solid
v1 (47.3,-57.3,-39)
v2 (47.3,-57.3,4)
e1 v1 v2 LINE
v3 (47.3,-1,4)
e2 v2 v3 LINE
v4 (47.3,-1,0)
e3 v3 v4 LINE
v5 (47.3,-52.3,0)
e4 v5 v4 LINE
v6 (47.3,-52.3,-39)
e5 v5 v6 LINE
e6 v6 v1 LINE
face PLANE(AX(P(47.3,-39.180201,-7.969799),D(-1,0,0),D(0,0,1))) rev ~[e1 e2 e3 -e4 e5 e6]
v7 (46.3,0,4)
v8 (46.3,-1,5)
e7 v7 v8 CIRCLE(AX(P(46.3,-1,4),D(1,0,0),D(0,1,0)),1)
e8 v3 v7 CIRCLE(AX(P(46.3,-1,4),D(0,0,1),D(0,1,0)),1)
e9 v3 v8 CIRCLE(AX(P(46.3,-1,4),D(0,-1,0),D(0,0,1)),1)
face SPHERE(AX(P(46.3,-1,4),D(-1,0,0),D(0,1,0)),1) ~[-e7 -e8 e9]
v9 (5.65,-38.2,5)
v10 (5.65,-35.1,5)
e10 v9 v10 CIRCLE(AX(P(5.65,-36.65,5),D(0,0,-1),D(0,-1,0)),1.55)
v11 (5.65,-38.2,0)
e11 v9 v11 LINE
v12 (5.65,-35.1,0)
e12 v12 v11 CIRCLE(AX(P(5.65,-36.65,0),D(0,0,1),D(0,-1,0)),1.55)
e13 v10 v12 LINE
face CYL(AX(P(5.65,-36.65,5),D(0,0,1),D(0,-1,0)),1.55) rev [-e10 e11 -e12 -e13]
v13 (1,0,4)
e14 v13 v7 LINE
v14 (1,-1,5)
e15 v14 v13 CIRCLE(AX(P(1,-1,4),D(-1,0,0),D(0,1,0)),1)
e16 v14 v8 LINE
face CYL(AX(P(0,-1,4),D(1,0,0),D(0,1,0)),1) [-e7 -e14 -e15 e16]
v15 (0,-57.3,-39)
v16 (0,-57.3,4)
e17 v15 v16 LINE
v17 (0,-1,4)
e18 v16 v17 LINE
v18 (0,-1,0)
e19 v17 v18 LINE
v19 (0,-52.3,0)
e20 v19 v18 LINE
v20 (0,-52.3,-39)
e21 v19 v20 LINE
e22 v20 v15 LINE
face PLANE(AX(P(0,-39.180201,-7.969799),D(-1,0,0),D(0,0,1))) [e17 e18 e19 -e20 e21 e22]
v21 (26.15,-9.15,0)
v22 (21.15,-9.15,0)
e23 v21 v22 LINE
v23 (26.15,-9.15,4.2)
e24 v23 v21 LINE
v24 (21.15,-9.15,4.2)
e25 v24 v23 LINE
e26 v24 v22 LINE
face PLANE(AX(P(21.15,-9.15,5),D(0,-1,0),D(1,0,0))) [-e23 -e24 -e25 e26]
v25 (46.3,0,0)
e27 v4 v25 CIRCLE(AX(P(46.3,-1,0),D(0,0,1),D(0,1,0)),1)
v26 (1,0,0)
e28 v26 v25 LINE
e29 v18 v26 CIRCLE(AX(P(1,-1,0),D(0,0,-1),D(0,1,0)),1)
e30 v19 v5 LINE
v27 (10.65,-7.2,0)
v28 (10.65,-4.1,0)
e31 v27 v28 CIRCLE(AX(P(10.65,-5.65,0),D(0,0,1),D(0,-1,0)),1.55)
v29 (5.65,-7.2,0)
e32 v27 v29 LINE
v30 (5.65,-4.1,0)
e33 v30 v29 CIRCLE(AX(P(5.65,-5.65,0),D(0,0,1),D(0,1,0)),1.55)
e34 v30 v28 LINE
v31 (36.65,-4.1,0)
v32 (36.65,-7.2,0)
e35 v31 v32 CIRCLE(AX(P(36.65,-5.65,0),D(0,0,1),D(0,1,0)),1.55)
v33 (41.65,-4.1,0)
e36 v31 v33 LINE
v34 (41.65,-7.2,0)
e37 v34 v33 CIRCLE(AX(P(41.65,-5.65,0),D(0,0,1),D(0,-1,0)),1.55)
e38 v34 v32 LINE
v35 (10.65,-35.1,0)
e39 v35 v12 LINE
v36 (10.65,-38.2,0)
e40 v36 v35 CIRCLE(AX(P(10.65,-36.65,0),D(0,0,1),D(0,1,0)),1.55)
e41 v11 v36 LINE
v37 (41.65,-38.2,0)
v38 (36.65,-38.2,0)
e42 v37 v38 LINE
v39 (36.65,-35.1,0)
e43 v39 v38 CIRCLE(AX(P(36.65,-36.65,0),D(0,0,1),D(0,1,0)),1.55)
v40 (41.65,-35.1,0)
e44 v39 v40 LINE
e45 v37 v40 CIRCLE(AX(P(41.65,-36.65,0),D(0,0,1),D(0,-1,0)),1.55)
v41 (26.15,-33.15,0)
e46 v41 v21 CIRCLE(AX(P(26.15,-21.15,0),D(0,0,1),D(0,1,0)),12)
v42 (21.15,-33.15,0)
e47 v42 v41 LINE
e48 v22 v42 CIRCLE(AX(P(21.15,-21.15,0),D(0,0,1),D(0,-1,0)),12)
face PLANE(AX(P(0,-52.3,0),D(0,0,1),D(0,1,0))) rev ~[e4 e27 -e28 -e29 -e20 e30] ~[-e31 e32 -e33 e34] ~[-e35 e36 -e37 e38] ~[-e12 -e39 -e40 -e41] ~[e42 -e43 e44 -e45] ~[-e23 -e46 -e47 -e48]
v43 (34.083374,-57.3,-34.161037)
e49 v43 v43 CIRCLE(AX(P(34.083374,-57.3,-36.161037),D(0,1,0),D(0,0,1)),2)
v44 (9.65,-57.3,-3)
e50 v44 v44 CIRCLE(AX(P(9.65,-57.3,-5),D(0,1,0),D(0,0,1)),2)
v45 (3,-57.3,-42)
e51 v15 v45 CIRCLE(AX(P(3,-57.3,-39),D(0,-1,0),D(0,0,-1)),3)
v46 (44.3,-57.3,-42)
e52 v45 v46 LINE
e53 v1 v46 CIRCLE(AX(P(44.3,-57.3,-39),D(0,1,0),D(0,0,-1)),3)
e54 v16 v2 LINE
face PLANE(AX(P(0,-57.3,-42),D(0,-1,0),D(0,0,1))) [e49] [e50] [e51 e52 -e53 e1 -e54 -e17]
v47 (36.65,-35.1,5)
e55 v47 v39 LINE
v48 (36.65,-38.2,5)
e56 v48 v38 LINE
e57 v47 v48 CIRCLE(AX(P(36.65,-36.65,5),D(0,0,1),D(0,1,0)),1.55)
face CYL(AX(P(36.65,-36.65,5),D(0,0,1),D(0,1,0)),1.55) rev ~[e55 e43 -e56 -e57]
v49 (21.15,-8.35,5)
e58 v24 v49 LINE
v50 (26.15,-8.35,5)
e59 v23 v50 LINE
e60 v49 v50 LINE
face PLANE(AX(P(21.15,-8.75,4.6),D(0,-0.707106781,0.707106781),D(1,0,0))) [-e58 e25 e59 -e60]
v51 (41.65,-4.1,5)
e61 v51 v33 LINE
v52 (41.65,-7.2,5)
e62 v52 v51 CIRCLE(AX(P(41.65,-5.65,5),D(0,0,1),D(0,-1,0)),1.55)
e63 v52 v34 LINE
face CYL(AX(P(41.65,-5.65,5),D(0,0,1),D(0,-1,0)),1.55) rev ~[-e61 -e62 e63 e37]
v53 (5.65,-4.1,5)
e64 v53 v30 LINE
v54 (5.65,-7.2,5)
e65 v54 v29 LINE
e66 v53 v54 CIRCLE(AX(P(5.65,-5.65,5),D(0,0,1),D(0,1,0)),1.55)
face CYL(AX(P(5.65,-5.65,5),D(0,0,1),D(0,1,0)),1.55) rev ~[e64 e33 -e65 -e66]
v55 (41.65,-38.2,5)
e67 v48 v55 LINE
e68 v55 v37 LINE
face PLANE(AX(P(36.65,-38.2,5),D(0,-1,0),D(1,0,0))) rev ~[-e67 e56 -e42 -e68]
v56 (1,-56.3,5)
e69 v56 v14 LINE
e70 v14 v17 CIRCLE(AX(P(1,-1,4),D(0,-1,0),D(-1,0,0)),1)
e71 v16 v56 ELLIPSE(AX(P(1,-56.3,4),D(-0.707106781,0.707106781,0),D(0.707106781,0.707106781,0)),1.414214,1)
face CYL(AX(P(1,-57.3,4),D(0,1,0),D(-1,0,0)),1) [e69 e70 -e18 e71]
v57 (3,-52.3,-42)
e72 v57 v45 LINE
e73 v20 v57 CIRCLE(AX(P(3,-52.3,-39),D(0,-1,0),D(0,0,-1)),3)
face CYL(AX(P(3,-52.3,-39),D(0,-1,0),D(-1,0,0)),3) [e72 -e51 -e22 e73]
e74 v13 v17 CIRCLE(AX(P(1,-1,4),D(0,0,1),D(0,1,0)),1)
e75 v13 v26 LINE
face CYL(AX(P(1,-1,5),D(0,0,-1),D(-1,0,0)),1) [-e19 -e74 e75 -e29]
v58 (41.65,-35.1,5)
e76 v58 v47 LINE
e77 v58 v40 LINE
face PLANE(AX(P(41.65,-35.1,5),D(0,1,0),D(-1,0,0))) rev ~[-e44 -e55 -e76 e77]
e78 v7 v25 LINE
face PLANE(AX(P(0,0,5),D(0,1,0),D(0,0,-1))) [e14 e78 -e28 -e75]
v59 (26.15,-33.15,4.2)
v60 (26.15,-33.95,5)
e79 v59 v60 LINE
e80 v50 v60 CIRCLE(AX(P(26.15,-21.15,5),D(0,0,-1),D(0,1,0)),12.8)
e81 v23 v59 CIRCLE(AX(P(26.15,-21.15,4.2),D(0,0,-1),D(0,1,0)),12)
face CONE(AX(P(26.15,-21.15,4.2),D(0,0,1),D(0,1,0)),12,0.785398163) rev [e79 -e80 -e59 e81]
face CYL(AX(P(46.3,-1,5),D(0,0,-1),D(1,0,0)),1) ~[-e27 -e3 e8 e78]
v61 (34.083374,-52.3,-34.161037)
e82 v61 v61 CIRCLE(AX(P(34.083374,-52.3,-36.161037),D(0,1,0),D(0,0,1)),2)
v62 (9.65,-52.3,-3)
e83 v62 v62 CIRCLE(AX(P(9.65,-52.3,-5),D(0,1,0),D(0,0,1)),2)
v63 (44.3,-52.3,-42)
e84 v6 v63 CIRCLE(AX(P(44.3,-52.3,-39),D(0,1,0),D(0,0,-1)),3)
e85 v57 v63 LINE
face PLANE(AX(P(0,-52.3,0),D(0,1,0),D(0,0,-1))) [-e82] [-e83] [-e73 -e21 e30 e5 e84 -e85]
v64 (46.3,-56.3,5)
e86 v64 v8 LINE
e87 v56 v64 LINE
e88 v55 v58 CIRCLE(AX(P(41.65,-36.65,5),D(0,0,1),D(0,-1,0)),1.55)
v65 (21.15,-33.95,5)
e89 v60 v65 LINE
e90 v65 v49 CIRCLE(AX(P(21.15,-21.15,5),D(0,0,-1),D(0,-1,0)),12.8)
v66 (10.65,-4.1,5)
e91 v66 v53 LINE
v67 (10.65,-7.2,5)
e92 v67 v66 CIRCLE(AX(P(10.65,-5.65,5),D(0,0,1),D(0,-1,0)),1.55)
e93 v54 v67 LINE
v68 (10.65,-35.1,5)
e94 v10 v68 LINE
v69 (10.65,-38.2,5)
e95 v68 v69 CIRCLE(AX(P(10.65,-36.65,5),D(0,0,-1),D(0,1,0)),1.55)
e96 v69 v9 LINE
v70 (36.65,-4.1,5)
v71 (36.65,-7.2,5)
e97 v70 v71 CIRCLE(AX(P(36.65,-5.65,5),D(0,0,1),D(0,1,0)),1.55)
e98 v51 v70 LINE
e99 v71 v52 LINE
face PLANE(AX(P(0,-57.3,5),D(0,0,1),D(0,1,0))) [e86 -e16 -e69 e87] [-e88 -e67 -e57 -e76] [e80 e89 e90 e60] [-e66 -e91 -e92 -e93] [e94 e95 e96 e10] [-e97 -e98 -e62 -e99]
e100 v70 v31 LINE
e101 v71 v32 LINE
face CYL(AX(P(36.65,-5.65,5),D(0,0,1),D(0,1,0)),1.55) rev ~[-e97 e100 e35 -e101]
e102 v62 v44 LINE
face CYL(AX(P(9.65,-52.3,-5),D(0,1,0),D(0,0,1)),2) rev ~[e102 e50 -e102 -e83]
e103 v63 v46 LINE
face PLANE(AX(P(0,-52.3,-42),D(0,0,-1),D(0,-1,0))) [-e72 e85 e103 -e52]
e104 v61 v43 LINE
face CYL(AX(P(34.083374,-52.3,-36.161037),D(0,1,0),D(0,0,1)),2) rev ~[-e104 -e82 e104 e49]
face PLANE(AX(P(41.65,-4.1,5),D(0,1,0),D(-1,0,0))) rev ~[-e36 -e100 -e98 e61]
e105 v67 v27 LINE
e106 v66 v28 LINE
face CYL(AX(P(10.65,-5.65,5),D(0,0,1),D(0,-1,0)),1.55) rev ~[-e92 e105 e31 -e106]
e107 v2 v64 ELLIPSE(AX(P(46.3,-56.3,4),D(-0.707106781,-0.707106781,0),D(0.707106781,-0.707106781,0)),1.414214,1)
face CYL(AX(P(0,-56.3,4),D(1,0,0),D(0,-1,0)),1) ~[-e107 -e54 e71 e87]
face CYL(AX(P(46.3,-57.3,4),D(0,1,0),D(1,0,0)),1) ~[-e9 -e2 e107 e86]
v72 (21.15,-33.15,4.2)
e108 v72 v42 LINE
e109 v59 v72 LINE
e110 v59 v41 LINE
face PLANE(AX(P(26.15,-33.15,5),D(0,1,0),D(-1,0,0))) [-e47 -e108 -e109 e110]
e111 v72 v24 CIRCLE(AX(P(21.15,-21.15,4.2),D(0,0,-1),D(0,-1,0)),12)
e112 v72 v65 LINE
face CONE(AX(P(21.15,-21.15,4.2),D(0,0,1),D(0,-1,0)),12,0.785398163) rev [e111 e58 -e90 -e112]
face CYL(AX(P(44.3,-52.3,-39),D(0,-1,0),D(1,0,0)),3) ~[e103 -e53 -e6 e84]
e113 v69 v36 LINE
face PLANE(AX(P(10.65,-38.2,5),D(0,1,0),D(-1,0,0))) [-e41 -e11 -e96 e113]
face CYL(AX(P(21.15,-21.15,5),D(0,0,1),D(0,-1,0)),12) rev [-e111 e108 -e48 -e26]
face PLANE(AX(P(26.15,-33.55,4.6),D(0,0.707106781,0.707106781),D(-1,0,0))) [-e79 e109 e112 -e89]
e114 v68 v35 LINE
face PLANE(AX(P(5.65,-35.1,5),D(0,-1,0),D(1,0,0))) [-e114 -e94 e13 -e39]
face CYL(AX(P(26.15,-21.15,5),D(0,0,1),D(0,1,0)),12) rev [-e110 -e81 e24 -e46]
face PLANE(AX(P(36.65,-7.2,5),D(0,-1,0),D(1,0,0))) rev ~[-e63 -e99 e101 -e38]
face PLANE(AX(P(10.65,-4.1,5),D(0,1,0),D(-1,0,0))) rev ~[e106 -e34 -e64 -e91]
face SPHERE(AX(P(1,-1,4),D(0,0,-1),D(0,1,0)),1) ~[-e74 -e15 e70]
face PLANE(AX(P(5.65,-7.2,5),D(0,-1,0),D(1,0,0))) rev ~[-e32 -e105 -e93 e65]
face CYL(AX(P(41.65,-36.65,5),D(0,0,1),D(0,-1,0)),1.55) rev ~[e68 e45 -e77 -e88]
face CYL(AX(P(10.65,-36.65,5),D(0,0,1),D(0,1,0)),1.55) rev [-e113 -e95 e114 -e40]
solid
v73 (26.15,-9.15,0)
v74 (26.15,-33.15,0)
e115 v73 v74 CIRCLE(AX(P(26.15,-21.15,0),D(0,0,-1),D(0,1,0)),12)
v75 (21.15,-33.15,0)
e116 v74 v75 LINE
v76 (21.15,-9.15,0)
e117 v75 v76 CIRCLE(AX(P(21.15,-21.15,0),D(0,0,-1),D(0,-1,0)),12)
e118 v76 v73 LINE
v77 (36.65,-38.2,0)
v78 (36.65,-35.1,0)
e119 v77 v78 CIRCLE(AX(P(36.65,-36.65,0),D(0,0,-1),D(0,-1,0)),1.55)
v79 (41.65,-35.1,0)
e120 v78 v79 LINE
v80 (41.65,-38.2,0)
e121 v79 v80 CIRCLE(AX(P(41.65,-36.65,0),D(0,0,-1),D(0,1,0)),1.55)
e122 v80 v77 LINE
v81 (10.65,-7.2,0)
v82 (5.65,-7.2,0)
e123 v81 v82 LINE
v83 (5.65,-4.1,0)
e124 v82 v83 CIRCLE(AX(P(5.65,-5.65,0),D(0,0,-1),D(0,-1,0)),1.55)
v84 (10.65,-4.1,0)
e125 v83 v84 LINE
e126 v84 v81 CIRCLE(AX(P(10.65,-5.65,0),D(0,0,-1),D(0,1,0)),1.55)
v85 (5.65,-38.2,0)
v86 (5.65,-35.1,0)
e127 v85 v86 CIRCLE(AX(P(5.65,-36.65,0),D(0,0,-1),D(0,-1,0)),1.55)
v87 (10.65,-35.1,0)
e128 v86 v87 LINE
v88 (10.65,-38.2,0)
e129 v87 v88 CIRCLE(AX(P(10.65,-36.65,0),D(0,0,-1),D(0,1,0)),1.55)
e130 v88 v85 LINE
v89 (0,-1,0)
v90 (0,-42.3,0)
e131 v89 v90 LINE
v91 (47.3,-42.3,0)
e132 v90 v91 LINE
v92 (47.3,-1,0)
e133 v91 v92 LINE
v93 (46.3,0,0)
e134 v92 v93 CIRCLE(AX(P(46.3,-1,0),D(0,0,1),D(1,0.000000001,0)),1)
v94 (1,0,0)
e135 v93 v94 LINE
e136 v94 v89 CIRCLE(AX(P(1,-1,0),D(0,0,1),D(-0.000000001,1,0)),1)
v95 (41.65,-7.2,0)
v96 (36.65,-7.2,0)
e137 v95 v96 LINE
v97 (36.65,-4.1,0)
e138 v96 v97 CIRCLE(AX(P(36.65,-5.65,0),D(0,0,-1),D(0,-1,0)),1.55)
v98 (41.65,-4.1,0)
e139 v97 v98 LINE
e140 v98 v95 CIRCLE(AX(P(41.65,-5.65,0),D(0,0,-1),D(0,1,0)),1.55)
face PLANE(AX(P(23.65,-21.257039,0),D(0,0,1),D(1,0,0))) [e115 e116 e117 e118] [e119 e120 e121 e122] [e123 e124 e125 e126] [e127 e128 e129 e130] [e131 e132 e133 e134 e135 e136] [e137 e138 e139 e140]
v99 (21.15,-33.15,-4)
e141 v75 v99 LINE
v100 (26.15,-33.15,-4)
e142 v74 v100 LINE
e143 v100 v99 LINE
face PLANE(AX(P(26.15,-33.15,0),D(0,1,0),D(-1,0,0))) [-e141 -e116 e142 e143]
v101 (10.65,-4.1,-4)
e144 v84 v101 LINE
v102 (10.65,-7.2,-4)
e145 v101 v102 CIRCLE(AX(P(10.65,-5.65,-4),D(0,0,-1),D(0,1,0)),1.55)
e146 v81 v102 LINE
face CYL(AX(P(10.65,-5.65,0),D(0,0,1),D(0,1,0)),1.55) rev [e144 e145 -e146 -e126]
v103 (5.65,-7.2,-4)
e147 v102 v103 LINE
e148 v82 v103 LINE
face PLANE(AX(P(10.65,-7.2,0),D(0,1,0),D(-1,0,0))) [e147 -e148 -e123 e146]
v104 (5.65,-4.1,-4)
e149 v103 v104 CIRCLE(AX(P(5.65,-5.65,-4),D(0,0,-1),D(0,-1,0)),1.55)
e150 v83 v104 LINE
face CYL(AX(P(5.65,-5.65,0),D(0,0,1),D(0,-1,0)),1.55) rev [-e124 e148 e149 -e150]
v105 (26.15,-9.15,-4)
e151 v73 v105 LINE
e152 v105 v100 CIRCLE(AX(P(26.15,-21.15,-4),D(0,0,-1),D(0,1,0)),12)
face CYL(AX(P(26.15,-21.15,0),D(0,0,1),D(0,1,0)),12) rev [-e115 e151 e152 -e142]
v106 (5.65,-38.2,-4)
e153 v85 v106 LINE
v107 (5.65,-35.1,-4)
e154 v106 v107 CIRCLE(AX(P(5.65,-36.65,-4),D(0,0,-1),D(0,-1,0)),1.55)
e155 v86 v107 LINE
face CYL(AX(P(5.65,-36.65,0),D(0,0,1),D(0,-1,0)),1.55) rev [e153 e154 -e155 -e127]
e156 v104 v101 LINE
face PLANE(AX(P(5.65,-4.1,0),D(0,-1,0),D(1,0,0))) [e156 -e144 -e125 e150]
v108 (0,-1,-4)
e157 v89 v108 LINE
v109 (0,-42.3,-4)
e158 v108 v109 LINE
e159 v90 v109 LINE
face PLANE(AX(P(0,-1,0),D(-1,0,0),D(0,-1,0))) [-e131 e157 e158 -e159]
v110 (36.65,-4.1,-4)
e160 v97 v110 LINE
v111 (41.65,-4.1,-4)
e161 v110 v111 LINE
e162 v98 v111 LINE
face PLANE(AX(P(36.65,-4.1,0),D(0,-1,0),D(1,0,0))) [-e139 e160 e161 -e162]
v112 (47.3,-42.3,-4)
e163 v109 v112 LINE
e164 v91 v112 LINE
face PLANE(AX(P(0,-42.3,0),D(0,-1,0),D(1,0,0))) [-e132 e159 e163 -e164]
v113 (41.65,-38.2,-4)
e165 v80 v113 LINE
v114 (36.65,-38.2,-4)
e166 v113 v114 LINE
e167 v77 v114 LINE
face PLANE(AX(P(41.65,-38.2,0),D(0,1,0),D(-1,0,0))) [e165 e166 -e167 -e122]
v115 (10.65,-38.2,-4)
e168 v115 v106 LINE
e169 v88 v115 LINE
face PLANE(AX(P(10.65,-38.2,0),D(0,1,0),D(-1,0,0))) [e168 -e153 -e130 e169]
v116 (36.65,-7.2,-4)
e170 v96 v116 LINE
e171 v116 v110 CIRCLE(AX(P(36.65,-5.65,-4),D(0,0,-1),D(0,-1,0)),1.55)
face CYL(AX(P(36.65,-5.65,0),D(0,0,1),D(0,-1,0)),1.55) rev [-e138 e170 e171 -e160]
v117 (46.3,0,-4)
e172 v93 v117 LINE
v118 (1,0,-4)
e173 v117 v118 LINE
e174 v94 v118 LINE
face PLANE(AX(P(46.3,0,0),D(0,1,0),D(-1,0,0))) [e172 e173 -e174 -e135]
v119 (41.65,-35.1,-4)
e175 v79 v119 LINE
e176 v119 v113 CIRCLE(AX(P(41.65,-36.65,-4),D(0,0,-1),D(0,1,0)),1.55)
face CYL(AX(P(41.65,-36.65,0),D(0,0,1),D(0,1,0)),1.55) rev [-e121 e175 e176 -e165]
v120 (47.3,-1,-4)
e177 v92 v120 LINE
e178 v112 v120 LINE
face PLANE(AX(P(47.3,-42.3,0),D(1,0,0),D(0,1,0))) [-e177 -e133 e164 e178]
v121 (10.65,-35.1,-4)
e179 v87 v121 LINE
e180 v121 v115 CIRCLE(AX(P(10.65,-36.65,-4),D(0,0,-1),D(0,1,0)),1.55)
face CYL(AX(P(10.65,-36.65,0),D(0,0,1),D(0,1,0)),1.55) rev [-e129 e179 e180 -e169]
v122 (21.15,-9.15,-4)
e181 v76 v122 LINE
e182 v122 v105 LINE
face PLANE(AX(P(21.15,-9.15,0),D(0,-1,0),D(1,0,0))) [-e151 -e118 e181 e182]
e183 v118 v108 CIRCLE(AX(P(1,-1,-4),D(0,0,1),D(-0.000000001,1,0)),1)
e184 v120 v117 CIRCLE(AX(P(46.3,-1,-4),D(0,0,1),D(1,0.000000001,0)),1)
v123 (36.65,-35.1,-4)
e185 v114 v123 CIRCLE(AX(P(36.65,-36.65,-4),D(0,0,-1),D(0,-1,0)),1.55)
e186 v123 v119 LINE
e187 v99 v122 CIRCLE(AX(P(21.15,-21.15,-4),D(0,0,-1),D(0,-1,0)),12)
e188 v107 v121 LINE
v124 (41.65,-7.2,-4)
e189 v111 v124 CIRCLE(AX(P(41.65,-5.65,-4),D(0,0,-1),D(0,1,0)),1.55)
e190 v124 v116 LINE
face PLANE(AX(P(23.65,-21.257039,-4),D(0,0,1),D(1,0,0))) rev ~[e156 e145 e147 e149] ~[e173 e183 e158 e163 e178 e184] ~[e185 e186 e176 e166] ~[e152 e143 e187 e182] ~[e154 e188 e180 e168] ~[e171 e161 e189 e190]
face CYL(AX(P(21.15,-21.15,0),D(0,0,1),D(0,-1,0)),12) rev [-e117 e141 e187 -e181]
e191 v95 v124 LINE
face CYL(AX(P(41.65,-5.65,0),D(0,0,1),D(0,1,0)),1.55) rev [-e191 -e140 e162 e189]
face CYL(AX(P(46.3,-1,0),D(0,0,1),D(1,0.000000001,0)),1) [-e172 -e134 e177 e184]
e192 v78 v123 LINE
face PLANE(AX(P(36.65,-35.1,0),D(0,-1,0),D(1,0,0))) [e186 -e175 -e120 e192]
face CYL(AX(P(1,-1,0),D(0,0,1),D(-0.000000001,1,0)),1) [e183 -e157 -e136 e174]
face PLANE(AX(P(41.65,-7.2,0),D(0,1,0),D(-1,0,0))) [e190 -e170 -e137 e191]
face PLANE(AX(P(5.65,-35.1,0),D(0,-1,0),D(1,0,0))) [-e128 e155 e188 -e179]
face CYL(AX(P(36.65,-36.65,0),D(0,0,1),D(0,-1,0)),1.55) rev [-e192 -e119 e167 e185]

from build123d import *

# Parameters (mm, degrees)
BOSS_EXTRUDE2_DEPTH = 47.3
CUT_EXTRUDE1_REACH  = 89.918
FILLET1_R           = 1
CHAMFER1_SIZE       = 0.8
FILLET2_R           = 3
CUT_EXTRUDE2_REACH  = 84.077
SKETCH4_R           = 2
BOSS_EXTRUDE3_DEPTH = 4


with BuildPart() as part:
    # Sketch2 → Boss-Extrude2 (new body)
    with BuildSketch(Plane(origin=(0, 0, 0), x_dir=(0, 0, -1), z_dir=(1, 0, 0))):
        Polygon((0, 0), (0, -47.3), (0, -52.3), (42, -52.3), (42, -57.3), (-5, -57.3), (-5, 0), align=None)
    extrude(amount=BOSS_EXTRUDE2_DEPTH)

    # Sketch3 → Cut-Extrude1 (cut, up to next)
    with BuildSketch(Plane.XY.offset(5), mode=Mode.PRIVATE) as cut_extrude1_sk1:
        with BuildLine():
            Line((21.15, -9.15), (26.15, -9.15))
            ThreePointArc((26.15, -9.15), (38.15, -21.15), (26.15, -33.15))
            Line((26.15, -33.15), (21.15, -33.15))
            ThreePointArc((21.15, -33.15), (9.15, -21.15), (21.15, -9.15))
        make_face()
    cut_extrude1_tool1 = extrude(cut_extrude1_sk1.sketch, amount=-CUT_EXTRUDE1_REACH, mode=Mode.PRIVATE) & part.part
    # Sketch3 → Cut-Extrude1 (cut, up to next)
    with BuildSketch(Plane.XY.offset(5), mode=Mode.PRIVATE) as cut_extrude1_sk2:
        with BuildLine():
            Line((5.65, -35.1), (10.65, -35.1))
            ThreePointArc((10.65, -35.1), (12.2, -36.65), (10.65, -38.2))
            Line((10.65, -38.2), (5.65, -38.2))
            ThreePointArc((5.65, -38.2), (4.1, -36.65), (5.65, -35.1))
        make_face()
    cut_extrude1_tool2 = extrude(cut_extrude1_sk2.sketch, amount=-CUT_EXTRUDE1_REACH, mode=Mode.PRIVATE) & part.part
    # Sketch3 → Cut-Extrude1 (cut, up to next)
    with BuildSketch(Plane.XY.offset(5), mode=Mode.PRIVATE) as cut_extrude1_sk3:
        with BuildLine():
            Line((5.65, -7.2), (10.65, -7.2))
            ThreePointArc((10.65, -7.2), (12.2, -5.65), (10.65, -4.1))
            Line((10.65, -4.1), (5.65, -4.1))
            ThreePointArc((5.65, -4.1), (4.1, -5.65), (5.65, -7.2))
        make_face()
    cut_extrude1_tool3 = extrude(cut_extrude1_sk3.sketch, amount=-CUT_EXTRUDE1_REACH, mode=Mode.PRIVATE) & part.part
    # Sketch3 → Cut-Extrude1 (cut, up to next)
    with BuildSketch(Plane.XY.offset(5), mode=Mode.PRIVATE) as cut_extrude1_sk4:
        with BuildLine():
            Line((36.65, -7.2), (41.65, -7.2))
            ThreePointArc((41.65, -7.2), (43.2, -5.65), (41.65, -4.1))
            Line((41.65, -4.1), (36.65, -4.1))
            ThreePointArc((36.65, -4.1), (35.1, -5.65), (36.65, -7.2))
        make_face()
    cut_extrude1_tool4 = extrude(cut_extrude1_sk4.sketch, amount=-CUT_EXTRUDE1_REACH, mode=Mode.PRIVATE) & part.part
    # Sketch3 → Cut-Extrude1 (cut, up to next)
    with BuildSketch(Plane.XY.offset(5), mode=Mode.PRIVATE) as cut_extrude1_sk5:
        with BuildLine():
            Line((36.65, -38.2), (41.65, -38.2))
            ThreePointArc((41.65, -38.2), (43.2, -36.65), (41.65, -35.1))
            Line((41.65, -35.1), (36.65, -35.1))
            ThreePointArc((36.65, -35.1), (35.1, -36.65), (36.65, -38.2))
        make_face()
    cut_extrude1_tool5 = extrude(cut_extrude1_sk5.sketch, amount=-CUT_EXTRUDE1_REACH, mode=Mode.PRIVATE) & part.part
    add(cut_extrude1_tool1.solids().sort_by_distance((23.65, -21.15, 5))[0], mode=Mode.SUBTRACT)
    add(cut_extrude1_tool2.solids().sort_by_distance((8.15, -36.65, 5))[0], mode=Mode.SUBTRACT)
    add(cut_extrude1_tool3.solids().sort_by_distance((8.15, -5.65, 5))[0], mode=Mode.SUBTRACT)
    add(cut_extrude1_tool4.solids().sort_by_distance((39.15, -5.65, 5))[0], mode=Mode.SUBTRACT)
    add(cut_extrude1_tool5.solids().sort_by_distance((39.15, -36.65, 5))[0], mode=Mode.SUBTRACT)

    # Fillet1
    fillet1_edges = [part.edges().sort_by_distance(p)[0] for p in [
        (0, 0, 2.5),
        (23.65, -57.3, 5),
        (23.65, 0, 5),
        (47.3, 0, 2.5),
        (47.3, -28.65, 5),
        (0, -28.65, 5),
    ]]
    fillet(fillet1_edges, radius=FILLET1_R)

    # Chamfer1
    chamfer1_edges = [part.edges().sort_by_distance(p)[0] for p in [
        (9.15, -21.15, 5),
        (23.65, -33.15, 5),
        (38.15, -21.15, 5),
        (23.65, -9.15, 5),
    ]]
    chamfer(chamfer1_edges, length=CHAMFER1_SIZE)

    # Fillet2
    fillet2_edges = [part.edges().sort_by_distance(p)[0] for p in [
        (47.3, -54.8, -42),
        (0, -54.8, -42),
    ]]
    fillet(fillet2_edges, radius=FILLET2_R)

    # Sketch4 → Cut-Extrude2 (cut, up to next)
    with BuildSketch(Plane(origin=(0, -52.3, 0), x_dir=(1, 0, 0), z_dir=(0, 1, 0)), mode=Mode.PRIVATE) as cut_extrude2_sk1:
        with Locations(Location((9.65, 5, 0), (0, 0, 270))):
            Circle(SKETCH4_R)
    cut_extrude2_tool1 = extrude(cut_extrude2_sk1.sketch, amount=-CUT_EXTRUDE2_REACH, mode=Mode.PRIVATE) & part.part
    # Sketch4 → Cut-Extrude2 (cut, up to next)
    with BuildSketch(Plane(origin=(0, -52.3, 0), x_dir=(1, 0, 0), z_dir=(0, 1, 0)), mode=Mode.PRIVATE) as cut_extrude2_sk2:
        with Locations(Location((34.083374087, 36.161037061, 0), (0, 0, 270))):
            Circle(SKETCH4_R)
    cut_extrude2_tool2 = extrude(cut_extrude2_sk2.sketch, amount=-CUT_EXTRUDE2_REACH, mode=Mode.PRIVATE) & part.part
    add(cut_extrude2_tool1.solids().sort_by_distance((9.65, -52.3, -5))[0], mode=Mode.SUBTRACT)
    add(cut_extrude2_tool2.solids().sort_by_distance((34.083374, -52.3, -36.161037))[0], mode=Mode.SUBTRACT)


with BuildPart() as body_2:
    # Sketch5 → Boss-Extrude3 (new body)
    with BuildSketch(Plane(origin=(0, 0, 0), x_dir=(-1, 0, 0), z_dir=(0, 0, -1))):
        with BuildLine():
            Line((-46.3, 0), (-1, 0))
            ThreePointArc((-1, 0), (-0.292893219, -0.292893219), (0, -1))
            Line((0, -1), (0, -42.3))
            Line((0, -42.3), (-47.3, -42.3))
            Line((-47.3, -42.3), (-47.3, -1))
            ThreePointArc((-47.3, -1), (-47.007106781, -0.292893219), (-46.3, 0))
        make_face()
        with BuildLine():
            Line((-21.15, -9.15), (-26.15, -9.15))
            ThreePointArc((-26.15, -9.15), (-38.15, -21.15), (-26.15, -33.15))
            Line((-26.15, -33.15), (-21.15, -33.15))
            ThreePointArc((-21.15, -33.15), (-9.15, -21.15), (-21.15, -9.15))
        make_face(mode=Mode.SUBTRACT)
        with BuildLine():
            Line((-41.65, -7.2), (-36.65, -7.2))
            ThreePointArc((-36.65, -7.2), (-35.1, -5.65), (-36.65, -4.1))
            Line((-36.65, -4.1), (-41.65, -4.1))
            ThreePointArc((-41.65, -4.1), (-43.2, -5.65), (-41.65, -7.2))
        make_face(mode=Mode.SUBTRACT)
        with BuildLine():
            Line((-41.65, -38.2), (-36.65, -38.2))
            ThreePointArc((-36.65, -38.2), (-35.1, -36.65), (-36.65, -35.1))
            Line((-36.65, -35.1), (-41.65, -35.1))
            ThreePointArc((-41.65, -35.1), (-43.2, -36.65), (-41.65, -38.2))
        make_face(mode=Mode.SUBTRACT)
        with BuildLine():
            Line((-10.65, -38.2), (-5.65, -38.2))
            ThreePointArc((-5.65, -38.2), (-4.1, -36.65), (-5.65, -35.1))
            Line((-5.65, -35.1), (-10.65, -35.1))
            ThreePointArc((-10.65, -35.1), (-12.2, -36.65), (-10.65, -38.2))
        make_face(mode=Mode.SUBTRACT)
        with BuildLine():
            Line((-5.65, -4.1), (-10.65, -4.1))
            ThreePointArc((-10.65, -4.1), (-12.2, -5.65), (-10.65, -7.2))
            Line((-10.65, -7.2), (-5.65, -7.2))
            ThreePointArc((-5.65, -7.2), (-4.1, -5.65), (-5.65, -4.1))
        make_face(mode=Mode.SUBTRACT)
    extrude(amount=BOSS_EXTRUDE3_DEPTH)


solid = Compound([part.part, body_2.part])
